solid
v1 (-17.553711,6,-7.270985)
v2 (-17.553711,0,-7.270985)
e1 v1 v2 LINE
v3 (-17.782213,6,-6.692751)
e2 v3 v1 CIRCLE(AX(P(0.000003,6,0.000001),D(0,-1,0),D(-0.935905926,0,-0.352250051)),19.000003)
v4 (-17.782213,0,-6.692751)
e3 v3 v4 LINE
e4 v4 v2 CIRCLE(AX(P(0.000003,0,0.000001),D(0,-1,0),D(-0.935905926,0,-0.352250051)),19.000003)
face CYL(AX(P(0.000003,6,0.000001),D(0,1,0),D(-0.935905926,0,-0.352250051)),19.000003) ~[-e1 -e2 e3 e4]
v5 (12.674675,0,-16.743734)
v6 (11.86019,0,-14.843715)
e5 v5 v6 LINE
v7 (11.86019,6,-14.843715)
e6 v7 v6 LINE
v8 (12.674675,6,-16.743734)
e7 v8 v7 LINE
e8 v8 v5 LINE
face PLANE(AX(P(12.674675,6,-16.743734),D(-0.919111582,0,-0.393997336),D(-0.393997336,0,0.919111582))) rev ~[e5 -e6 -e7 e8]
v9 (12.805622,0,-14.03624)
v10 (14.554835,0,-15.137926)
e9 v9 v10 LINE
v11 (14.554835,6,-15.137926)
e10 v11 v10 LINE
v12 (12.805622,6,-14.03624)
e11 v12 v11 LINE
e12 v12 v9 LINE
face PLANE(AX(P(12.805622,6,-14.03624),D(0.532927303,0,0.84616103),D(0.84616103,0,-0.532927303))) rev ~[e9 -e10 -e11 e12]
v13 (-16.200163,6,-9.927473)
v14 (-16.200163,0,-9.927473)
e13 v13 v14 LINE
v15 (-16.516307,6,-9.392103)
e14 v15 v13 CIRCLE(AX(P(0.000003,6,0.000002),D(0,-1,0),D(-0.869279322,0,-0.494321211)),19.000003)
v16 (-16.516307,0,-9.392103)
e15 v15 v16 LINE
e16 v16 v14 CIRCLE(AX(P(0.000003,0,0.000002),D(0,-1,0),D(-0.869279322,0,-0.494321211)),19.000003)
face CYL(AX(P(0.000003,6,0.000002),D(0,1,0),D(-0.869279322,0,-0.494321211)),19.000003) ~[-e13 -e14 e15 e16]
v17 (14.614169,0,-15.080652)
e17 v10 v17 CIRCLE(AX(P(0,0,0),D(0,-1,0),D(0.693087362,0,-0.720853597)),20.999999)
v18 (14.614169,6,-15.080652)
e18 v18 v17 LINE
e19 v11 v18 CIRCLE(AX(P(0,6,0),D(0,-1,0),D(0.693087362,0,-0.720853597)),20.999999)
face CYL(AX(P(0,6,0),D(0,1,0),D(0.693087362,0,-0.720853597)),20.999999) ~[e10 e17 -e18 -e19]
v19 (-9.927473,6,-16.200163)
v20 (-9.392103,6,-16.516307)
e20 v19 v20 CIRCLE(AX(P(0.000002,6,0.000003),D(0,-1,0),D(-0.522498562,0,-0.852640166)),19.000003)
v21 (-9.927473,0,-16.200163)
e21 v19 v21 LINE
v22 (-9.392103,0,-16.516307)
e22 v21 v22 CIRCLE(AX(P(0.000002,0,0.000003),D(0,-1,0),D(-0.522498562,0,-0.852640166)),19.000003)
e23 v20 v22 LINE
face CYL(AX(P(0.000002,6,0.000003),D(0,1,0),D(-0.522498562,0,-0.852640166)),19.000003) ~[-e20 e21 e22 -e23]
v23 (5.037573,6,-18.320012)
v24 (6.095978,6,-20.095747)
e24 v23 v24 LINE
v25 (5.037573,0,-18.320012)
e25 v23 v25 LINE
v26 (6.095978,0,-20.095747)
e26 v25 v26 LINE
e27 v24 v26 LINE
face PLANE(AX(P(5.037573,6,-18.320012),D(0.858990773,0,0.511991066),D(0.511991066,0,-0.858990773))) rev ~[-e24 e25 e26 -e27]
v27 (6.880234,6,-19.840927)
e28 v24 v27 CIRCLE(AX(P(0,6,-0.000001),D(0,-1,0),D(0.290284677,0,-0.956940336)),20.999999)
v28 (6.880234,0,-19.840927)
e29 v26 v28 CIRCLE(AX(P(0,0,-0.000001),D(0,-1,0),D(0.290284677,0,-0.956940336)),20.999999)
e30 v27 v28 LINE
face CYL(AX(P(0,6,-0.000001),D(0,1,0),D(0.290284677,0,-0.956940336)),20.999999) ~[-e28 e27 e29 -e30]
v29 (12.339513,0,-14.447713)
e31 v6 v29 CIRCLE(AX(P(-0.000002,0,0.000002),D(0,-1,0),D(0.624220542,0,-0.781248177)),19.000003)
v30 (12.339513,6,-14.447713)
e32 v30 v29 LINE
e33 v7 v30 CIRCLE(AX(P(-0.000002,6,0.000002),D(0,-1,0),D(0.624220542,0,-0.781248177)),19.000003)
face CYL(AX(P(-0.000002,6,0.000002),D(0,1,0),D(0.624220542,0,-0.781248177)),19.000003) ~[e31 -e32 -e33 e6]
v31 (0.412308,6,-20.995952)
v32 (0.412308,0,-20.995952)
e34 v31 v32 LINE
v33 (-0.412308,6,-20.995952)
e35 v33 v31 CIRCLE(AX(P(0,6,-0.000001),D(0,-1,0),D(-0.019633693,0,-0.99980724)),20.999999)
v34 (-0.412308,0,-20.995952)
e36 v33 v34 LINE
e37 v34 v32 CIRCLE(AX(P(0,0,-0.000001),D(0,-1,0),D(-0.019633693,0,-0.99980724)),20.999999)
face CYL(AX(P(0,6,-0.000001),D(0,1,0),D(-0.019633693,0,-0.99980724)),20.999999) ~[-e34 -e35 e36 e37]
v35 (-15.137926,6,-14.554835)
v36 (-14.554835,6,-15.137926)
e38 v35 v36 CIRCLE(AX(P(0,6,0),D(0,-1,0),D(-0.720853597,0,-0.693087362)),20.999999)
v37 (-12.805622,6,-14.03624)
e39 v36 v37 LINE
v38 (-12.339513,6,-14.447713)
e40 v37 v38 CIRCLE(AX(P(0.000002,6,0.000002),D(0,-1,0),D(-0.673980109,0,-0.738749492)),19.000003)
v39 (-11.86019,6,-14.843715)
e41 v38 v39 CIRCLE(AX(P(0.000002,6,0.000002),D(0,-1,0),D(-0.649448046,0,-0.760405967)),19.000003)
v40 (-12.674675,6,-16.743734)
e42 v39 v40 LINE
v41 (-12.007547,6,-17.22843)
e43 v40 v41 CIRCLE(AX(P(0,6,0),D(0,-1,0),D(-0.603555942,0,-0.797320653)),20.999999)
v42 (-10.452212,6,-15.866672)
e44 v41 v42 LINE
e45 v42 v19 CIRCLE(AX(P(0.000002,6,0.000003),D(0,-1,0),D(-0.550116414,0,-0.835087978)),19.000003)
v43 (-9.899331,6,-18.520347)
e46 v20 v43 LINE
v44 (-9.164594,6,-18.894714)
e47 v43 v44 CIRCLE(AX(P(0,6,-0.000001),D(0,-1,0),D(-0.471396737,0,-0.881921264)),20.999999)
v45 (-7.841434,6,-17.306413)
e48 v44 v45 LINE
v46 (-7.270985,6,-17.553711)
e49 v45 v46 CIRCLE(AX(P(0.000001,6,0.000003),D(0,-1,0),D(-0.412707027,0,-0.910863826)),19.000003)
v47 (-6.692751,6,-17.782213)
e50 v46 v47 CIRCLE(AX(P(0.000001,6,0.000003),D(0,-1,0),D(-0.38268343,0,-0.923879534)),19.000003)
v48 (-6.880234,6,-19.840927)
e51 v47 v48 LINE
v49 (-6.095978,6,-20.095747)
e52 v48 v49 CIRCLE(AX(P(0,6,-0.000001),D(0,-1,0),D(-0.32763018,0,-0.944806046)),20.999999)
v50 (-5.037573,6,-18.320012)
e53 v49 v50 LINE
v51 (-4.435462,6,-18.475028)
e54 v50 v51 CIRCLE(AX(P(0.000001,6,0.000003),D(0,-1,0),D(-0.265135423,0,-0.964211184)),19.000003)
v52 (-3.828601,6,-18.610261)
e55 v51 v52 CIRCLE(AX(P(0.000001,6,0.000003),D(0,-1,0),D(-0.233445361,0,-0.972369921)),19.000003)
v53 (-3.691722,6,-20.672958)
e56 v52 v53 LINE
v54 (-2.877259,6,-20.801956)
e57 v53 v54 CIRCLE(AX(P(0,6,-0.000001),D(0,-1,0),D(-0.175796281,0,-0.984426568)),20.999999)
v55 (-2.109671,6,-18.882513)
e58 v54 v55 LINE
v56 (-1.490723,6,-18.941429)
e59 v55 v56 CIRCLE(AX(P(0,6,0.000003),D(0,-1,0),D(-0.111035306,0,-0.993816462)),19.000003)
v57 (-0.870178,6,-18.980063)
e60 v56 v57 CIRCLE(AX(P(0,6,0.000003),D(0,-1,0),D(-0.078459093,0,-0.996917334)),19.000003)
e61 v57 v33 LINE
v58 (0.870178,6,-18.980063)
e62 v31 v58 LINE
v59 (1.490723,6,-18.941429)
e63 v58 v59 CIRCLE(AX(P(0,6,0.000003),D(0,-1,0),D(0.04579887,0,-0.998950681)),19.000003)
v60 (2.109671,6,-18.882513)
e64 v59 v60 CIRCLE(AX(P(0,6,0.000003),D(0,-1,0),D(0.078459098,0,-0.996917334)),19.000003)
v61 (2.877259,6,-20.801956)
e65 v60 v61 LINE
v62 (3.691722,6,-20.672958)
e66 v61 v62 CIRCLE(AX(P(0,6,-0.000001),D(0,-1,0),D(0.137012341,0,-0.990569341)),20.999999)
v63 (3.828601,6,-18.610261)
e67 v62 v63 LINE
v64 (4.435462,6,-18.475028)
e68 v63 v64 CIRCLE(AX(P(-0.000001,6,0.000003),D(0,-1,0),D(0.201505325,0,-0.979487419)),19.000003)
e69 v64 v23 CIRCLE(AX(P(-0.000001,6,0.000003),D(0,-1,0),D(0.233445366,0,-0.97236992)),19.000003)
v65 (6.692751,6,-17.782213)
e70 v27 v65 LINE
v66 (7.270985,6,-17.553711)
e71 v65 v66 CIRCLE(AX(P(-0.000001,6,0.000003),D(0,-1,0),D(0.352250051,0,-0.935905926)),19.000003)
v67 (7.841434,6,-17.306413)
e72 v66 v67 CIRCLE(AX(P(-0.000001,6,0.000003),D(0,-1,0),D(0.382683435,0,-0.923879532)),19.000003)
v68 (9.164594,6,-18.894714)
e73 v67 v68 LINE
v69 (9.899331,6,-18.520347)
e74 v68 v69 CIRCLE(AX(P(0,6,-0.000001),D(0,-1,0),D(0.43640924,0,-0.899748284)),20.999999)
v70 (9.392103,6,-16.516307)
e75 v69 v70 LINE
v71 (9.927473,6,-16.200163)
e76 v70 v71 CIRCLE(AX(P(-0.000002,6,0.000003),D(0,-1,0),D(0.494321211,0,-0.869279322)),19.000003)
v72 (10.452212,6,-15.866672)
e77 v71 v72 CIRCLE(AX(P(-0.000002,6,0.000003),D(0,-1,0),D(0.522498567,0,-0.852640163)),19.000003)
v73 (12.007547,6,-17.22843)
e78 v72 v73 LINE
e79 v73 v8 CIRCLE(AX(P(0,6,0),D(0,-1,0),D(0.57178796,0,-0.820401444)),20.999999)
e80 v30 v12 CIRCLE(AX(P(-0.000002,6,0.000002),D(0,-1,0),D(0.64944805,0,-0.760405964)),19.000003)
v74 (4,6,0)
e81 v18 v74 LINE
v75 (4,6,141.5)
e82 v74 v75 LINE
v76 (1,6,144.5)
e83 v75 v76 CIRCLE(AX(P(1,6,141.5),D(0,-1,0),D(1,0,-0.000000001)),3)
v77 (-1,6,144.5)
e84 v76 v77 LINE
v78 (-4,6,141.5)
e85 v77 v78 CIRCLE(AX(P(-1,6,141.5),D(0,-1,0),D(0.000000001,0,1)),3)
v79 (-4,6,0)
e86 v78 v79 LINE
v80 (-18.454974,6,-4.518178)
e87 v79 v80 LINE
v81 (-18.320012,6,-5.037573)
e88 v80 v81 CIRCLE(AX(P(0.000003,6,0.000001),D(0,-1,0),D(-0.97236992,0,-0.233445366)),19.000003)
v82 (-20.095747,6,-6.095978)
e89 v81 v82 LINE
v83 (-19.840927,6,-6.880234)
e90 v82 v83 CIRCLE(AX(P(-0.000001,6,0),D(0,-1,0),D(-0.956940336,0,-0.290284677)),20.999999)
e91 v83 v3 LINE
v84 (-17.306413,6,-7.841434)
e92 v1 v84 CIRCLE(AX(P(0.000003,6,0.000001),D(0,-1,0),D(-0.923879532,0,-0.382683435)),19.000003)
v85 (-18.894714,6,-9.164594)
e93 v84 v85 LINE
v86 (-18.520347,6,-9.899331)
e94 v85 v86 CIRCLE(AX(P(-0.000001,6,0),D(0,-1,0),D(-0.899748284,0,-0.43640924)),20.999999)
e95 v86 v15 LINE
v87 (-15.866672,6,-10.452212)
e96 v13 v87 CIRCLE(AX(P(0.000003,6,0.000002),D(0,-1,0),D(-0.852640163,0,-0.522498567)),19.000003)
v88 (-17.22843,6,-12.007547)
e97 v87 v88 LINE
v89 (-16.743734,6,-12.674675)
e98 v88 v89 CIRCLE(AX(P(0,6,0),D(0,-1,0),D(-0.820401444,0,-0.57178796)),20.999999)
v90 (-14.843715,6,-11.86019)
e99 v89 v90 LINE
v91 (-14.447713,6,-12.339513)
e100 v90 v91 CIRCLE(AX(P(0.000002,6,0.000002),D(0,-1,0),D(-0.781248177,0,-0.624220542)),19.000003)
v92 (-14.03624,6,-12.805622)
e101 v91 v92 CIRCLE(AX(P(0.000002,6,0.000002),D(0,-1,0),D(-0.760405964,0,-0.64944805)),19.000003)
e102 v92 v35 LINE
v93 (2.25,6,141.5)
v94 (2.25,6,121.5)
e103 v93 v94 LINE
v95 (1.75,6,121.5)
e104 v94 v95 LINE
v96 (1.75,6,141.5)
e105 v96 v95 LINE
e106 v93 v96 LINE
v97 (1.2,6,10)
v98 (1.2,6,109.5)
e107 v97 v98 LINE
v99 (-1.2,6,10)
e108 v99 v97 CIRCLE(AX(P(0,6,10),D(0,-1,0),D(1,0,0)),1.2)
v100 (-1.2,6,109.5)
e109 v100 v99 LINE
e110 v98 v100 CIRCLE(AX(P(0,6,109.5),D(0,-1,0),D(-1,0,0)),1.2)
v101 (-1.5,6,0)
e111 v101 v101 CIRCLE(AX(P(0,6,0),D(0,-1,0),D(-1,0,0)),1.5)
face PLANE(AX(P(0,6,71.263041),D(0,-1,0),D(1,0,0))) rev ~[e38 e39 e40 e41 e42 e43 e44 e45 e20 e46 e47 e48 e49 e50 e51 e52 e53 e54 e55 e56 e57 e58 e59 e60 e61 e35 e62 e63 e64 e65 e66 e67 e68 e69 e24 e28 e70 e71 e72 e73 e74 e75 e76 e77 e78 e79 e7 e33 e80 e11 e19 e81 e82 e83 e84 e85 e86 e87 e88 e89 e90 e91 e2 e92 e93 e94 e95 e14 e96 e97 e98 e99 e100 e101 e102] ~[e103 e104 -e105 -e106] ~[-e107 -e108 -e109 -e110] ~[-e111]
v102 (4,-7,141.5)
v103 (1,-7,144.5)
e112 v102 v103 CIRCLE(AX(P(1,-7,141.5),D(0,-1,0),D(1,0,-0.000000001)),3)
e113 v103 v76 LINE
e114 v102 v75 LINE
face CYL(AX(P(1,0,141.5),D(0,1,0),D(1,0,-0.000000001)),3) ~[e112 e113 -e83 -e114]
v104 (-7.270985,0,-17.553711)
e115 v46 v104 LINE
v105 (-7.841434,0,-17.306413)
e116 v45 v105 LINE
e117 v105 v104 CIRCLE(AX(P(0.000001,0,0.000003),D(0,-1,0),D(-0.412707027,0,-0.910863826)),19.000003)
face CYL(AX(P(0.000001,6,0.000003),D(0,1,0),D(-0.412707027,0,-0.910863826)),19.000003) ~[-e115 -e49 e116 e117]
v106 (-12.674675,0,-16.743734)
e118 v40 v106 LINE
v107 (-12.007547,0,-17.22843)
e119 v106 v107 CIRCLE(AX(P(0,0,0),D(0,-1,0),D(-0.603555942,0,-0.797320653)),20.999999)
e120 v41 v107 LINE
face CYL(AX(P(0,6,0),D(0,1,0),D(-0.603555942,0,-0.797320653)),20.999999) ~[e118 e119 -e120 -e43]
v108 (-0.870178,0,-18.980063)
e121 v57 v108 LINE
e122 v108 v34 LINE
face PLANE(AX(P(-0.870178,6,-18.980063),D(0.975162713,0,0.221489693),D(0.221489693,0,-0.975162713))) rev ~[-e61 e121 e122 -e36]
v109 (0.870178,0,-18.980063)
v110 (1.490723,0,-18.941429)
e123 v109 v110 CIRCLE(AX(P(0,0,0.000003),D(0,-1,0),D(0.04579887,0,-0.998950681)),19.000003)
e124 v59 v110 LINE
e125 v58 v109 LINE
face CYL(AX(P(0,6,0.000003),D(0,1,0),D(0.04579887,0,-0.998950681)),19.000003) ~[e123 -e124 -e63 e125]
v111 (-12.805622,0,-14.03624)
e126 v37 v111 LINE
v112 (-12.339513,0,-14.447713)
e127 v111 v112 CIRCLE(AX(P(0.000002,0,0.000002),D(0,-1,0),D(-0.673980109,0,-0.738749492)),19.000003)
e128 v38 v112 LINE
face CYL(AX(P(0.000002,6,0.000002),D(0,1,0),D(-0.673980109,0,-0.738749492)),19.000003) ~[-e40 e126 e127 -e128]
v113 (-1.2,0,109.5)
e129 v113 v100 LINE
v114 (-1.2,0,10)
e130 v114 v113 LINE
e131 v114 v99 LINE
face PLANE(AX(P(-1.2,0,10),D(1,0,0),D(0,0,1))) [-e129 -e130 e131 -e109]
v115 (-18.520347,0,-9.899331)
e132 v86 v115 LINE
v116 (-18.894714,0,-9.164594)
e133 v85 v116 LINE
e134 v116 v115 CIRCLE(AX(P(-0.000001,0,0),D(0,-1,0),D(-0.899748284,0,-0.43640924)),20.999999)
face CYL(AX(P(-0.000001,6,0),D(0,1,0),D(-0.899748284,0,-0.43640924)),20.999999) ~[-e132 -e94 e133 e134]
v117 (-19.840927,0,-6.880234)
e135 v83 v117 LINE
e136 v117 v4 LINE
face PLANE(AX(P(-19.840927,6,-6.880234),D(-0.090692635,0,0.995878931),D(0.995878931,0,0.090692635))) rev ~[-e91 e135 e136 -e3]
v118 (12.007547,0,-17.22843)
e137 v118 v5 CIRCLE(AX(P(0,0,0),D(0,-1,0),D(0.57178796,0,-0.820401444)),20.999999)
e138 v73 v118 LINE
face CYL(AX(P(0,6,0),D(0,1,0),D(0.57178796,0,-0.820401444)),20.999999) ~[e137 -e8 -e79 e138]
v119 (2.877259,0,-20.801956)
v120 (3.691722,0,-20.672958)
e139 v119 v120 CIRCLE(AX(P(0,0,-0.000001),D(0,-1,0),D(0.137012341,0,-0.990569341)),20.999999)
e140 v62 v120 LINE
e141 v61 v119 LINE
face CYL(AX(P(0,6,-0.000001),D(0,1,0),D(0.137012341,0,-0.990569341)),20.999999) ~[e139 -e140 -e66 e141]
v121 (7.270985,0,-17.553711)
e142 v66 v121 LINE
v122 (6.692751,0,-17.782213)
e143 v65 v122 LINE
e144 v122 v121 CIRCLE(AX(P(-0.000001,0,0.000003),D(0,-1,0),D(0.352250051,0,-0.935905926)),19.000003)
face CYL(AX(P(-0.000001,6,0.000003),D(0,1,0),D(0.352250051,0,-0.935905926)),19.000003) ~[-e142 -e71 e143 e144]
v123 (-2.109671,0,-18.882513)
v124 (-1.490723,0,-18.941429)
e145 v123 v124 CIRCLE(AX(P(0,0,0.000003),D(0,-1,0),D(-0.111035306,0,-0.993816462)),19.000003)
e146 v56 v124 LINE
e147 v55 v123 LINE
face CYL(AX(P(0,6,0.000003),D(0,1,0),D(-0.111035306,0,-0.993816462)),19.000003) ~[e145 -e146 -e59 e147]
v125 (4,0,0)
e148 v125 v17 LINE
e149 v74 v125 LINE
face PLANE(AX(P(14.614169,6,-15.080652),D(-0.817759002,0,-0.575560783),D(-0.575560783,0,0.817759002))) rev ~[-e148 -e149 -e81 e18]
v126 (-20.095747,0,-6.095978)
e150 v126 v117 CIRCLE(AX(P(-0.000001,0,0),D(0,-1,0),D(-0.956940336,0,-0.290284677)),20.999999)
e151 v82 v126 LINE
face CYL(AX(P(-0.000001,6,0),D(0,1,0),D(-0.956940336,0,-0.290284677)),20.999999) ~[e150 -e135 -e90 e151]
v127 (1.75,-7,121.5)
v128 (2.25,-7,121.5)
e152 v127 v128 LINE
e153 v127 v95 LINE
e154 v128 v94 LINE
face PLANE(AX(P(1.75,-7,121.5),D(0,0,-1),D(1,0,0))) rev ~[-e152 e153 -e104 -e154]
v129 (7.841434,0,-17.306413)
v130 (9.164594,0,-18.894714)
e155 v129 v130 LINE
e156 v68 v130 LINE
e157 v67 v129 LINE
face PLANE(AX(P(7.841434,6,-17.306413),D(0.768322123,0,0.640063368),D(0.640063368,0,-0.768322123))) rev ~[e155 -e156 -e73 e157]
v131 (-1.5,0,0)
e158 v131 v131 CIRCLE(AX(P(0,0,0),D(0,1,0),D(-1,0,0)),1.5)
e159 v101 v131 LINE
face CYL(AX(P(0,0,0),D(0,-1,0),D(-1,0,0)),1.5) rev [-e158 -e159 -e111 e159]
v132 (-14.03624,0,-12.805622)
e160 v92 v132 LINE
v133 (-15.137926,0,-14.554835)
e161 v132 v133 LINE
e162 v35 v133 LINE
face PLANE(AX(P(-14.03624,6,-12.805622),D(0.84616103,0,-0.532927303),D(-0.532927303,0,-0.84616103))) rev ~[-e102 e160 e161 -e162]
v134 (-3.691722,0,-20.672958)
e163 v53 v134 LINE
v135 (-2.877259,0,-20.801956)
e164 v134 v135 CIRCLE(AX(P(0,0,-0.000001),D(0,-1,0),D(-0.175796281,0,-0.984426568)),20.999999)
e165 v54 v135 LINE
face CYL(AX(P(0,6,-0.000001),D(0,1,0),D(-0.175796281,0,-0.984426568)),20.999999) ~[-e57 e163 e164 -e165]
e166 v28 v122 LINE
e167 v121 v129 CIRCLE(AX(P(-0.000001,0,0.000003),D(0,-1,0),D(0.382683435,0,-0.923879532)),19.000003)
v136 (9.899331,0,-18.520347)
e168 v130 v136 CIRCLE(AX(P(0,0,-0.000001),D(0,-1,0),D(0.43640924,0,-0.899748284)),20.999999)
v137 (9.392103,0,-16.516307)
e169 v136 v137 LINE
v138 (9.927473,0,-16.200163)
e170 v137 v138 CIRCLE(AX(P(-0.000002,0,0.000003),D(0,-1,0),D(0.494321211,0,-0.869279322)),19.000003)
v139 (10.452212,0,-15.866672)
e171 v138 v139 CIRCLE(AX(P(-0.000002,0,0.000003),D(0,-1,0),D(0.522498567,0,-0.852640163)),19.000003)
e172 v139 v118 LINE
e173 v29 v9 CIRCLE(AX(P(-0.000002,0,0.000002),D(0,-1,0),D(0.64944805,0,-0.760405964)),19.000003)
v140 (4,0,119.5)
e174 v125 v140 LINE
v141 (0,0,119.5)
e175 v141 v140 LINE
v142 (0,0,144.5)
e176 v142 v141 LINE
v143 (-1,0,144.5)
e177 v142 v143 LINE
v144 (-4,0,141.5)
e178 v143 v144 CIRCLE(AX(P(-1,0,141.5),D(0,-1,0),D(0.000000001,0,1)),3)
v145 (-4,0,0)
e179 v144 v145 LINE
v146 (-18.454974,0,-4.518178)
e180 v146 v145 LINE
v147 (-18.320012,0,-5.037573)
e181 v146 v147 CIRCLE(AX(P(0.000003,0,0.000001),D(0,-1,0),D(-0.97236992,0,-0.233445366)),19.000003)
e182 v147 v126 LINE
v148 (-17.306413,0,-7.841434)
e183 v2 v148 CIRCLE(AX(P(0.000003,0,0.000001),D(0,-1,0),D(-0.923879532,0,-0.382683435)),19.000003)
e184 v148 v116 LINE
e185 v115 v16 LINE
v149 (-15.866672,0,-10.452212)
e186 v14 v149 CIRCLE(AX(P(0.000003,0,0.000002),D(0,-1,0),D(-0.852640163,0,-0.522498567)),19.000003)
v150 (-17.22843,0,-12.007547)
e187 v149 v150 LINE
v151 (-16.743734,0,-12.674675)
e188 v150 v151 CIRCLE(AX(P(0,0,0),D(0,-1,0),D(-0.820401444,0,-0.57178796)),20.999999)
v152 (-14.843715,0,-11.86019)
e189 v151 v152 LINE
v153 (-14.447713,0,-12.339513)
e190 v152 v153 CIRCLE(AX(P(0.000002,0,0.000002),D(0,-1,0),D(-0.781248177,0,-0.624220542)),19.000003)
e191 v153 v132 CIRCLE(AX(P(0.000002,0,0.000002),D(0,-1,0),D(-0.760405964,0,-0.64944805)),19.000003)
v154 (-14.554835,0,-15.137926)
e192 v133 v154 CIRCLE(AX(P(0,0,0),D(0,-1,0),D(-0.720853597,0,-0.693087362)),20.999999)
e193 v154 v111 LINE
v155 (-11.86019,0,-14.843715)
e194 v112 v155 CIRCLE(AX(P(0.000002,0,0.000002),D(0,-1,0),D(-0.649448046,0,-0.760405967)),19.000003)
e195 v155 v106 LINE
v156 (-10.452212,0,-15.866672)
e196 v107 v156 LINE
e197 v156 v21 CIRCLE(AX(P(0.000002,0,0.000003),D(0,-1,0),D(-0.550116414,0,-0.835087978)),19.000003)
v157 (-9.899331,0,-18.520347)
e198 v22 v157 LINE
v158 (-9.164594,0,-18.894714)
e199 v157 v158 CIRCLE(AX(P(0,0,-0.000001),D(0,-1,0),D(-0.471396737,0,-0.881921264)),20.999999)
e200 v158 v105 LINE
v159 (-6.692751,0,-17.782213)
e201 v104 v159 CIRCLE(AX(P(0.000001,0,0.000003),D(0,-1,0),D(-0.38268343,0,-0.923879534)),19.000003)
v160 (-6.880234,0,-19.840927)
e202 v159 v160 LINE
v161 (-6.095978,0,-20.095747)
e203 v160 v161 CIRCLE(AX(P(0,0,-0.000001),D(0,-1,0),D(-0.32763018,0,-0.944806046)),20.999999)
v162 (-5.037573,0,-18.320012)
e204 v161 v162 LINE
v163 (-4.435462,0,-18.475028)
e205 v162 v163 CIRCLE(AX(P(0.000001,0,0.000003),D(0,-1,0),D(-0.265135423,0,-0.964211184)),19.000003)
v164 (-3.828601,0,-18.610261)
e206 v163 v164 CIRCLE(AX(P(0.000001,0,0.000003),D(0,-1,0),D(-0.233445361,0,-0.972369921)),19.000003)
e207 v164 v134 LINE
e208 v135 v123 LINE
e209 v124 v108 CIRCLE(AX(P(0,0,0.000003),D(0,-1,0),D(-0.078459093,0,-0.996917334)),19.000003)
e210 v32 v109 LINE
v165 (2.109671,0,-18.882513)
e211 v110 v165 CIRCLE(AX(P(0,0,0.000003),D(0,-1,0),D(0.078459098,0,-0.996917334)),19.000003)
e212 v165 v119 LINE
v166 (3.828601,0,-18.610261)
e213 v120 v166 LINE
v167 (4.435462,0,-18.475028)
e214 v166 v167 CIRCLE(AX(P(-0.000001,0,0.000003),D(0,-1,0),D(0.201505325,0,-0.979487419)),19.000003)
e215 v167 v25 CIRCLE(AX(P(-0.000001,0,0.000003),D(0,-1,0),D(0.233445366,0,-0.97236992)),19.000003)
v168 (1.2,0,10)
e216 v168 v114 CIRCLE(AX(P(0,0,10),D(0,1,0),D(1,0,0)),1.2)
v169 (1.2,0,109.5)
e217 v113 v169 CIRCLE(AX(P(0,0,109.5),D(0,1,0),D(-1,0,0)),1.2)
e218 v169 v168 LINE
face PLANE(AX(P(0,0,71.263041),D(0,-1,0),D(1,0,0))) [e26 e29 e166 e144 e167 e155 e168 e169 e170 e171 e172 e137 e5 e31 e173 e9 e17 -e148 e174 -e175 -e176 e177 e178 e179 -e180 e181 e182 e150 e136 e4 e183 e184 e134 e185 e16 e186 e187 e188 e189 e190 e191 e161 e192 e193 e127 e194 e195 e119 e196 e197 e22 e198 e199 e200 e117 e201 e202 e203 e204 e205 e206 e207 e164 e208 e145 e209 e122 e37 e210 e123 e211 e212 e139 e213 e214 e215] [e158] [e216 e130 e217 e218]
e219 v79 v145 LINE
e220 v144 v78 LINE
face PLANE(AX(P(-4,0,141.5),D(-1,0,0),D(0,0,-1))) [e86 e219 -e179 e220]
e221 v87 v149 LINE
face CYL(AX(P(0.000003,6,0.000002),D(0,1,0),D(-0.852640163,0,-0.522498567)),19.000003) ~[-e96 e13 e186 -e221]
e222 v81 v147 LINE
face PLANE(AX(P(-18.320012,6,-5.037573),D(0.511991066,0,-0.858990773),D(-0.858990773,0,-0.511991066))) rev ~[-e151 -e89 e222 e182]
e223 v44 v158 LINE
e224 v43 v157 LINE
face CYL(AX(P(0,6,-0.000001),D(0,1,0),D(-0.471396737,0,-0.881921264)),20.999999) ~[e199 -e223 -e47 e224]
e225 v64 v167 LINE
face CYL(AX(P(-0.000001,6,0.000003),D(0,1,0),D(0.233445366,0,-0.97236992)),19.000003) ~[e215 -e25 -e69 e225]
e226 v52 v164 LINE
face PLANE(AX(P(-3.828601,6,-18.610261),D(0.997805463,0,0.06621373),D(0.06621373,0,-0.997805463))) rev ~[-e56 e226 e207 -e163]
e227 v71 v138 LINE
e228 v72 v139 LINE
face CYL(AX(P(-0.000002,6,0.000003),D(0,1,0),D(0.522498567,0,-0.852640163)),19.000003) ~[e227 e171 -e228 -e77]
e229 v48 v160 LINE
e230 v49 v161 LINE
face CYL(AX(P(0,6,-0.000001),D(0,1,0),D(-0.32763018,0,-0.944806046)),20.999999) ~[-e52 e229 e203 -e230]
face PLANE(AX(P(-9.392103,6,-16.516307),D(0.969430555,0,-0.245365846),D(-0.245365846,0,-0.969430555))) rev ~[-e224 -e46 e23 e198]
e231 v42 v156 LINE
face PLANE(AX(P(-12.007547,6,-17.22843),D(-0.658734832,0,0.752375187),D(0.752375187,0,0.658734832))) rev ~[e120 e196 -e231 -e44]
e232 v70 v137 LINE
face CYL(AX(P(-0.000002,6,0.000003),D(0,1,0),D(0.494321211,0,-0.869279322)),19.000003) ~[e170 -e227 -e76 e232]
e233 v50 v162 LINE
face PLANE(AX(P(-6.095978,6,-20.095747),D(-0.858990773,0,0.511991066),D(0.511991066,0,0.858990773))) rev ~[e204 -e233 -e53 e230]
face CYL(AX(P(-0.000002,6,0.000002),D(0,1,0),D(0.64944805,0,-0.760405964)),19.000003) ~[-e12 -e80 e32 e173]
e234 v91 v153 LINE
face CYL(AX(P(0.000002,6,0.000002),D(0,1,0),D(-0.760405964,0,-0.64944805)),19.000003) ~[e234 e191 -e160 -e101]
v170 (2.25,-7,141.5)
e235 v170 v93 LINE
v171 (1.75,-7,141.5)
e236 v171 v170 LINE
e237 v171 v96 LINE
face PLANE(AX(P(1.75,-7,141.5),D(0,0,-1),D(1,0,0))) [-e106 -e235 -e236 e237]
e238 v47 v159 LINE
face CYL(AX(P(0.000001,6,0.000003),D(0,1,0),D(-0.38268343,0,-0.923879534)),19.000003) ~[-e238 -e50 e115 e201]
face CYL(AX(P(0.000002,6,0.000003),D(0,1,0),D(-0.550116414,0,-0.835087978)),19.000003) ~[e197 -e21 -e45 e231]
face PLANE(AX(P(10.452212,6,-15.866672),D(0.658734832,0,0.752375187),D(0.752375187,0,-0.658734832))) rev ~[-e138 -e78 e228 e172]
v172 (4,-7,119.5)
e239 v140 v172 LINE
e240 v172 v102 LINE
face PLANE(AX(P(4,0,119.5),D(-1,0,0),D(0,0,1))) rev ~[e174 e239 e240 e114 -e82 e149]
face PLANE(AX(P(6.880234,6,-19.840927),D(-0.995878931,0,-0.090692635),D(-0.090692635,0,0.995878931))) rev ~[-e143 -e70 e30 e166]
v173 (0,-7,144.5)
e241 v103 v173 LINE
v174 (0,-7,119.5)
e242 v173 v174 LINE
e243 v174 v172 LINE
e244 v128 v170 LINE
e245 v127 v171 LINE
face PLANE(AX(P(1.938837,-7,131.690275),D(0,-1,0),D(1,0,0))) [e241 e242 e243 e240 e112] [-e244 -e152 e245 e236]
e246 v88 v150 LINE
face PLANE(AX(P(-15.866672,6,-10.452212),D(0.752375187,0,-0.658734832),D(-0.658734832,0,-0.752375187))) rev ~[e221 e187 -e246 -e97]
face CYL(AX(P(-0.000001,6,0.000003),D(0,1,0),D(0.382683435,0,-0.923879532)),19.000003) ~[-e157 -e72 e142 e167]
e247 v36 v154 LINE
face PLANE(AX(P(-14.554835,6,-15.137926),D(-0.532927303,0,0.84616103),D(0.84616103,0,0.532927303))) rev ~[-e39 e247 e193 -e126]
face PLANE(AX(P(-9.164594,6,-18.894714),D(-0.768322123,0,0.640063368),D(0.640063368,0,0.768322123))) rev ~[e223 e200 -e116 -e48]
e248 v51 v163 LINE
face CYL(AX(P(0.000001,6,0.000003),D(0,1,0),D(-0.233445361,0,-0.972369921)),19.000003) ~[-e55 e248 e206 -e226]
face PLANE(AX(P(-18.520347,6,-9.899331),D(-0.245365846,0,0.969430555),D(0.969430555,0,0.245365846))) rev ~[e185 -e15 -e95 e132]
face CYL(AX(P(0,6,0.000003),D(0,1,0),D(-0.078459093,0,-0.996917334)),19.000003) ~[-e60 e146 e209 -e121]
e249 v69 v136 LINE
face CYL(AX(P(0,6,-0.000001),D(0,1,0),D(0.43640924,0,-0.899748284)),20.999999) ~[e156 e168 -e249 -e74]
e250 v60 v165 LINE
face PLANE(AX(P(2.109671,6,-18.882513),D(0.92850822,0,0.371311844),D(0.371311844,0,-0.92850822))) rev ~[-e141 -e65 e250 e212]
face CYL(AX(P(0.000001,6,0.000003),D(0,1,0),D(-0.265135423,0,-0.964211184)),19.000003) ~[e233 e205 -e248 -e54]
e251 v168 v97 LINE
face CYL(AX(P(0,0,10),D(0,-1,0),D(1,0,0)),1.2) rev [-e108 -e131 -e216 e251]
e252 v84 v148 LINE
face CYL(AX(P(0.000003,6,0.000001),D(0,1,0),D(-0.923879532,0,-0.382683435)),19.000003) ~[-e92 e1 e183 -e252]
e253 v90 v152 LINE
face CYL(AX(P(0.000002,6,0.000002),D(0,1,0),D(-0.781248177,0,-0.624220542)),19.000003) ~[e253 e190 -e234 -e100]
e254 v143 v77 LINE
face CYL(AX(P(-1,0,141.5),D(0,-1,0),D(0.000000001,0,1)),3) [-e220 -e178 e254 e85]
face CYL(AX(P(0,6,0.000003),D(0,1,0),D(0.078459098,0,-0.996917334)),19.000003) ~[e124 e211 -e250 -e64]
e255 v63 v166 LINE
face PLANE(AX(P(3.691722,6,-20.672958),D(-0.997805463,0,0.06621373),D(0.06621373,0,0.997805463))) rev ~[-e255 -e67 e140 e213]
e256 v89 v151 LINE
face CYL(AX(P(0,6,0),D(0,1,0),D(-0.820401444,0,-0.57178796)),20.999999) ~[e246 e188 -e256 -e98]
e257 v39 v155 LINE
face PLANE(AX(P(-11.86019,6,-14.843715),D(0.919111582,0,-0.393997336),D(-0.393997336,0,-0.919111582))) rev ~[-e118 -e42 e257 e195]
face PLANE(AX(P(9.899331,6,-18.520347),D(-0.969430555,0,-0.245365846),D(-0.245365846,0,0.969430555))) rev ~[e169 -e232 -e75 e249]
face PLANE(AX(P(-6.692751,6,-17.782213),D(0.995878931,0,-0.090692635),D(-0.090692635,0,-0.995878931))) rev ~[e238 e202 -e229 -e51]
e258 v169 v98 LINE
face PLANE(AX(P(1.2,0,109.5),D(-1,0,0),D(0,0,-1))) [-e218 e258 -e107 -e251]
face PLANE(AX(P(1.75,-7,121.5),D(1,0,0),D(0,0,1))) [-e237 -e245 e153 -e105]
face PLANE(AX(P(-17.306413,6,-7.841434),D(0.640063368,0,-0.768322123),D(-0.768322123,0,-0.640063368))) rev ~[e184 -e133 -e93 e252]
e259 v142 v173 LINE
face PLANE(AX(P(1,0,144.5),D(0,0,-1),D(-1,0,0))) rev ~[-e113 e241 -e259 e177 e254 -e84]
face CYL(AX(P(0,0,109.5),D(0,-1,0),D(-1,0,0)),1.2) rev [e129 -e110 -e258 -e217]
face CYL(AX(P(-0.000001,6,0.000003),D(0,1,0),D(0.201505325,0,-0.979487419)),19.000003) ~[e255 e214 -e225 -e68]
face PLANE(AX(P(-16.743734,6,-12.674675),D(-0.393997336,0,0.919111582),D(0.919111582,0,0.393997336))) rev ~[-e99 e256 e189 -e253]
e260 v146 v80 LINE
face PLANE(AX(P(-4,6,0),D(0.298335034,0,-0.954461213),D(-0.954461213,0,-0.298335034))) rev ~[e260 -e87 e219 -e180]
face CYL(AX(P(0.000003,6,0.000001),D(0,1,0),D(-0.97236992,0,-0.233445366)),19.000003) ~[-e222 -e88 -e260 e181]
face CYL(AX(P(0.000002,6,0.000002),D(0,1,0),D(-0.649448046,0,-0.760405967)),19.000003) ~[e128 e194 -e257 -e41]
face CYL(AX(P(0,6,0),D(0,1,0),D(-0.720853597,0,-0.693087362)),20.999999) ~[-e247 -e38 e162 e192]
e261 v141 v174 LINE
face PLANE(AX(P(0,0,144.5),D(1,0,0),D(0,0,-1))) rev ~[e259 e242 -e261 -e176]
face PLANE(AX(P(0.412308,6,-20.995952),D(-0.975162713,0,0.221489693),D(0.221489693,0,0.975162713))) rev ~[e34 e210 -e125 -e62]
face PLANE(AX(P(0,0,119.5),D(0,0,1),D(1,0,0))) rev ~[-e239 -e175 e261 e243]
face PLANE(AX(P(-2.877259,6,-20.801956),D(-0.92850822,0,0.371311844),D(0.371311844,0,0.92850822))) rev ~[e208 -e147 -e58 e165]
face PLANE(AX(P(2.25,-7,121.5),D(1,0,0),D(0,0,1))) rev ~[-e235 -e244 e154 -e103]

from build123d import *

# Parameters (mm, degrees)
SKETCH1_R           = 21
SKETCH1_R_2         = 1.5
BOSS_EXTRUDE1_DEPTH = 6
CUT_EXTRUDE1_DEPTH  = 6
CIRPATTERN1_COUNT   = 40
CUT_EXTRUDE2_REACH  = 8
BOSS_EXTRUDE2_DEPTH = 6
BOSS_EXTRUDE3_DEPTH = 7
CUT_EXTRUDE4_REACH  = 15
SKETCH7_W           = 0.5
SKETCH7_H           = 20
CUT_EXTRUDE5_REACH  = 8


with BuildPart() as part:
    # Sketch1 → Boss-Extrude1 (new body)
    with BuildSketch(Plane(origin=(0, 0, 0), x_dir=(1, 0, 0), z_dir=(0, 1, 0))):
        Circle(SKETCH1_R)
        Circle(SKETCH1_R_2, mode=Mode.SUBTRACT)
    extrude(amount=BOSS_EXTRUDE1_DEPTH)

    # Sketch2 → Cut-Extrude1 (cut)
    with BuildSketch(Plane(origin=(0, 6, 0), x_dir=(1, 0, 0), z_dir=(0, 1, 0))):
        with BuildLine():
            Line((-0.870178472, 18.980062946), (-0.412307542, 20.99595205))
            ThreePointArc((-0.412307542, 20.99595205), (0, 21), (0.412307542, 20.99595205))
            Line((0.412307542, 20.99595205), (0.870178472, 18.980062946))
            ThreePointArc((0.870178472, 18.980062946), (1.180608684, 18.963284608), (1.490722819, 18.941429341))
            Line((1.490722819, 18.941429341), (1.73143755, 22))
            Line((1.73143755, 22), (-1.73143755, 22))
            Line((-1.73143755, 22), (-1.490722819, 18.941429341))
            ThreePointArc((-1.490722819, 18.941429341), (-1.180608684, 18.963284608), (-0.870178472, 18.980062946))
        make_face()
    cut_extrude1 = extrude(amount=-CUT_EXTRUDE1_DEPTH, mode=Mode.SUBTRACT)

    # CirPattern1: Cut-Extrude1 ×40 about axis
    cirpattern1_axis = Axis((0, 0, 0), (0, 1, 0))
    for i in range(1, CIRPATTERN1_COUNT):
        add(cut_extrude1.rotate(cirpattern1_axis, i * 360 / CIRPATTERN1_COUNT), mode=Mode.SUBTRACT)

    # Sketch3 → Cut-Extrude2 (cut, up to next)
    with BuildSketch(Plane(origin=(0, 6, 0), x_dir=(1, 0, 0), z_dir=(0, 1, 0)), mode=Mode.PRIVATE) as cut_extrude2_sk1:
        with BuildLine():
            Line((-4, 0), (-20.367312321, 5.115915248))
            ThreePointArc((-20.367312321, 5.115915248), (5.753143593, -20.196567501), (14.614168728, 15.080652253))
            Line((14.614168728, 15.080652253), (4, 0))
            Line((4, 0), (-4, 0))
        make_face()
    cut_extrude2_tool1 = extrude(cut_extrude2_sk1.sketch, amount=-CUT_EXTRUDE2_REACH, mode=Mode.PRIVATE) & part.part
    add(cut_extrude2_tool1.solids().sort_by_distance((1.540678, 6, 6.01351))[0], mode=Mode.SUBTRACT)

    # Sketch4 → Boss-Extrude2 (add)
    with BuildSketch(Plane.XZ):
        with BuildLine():
            Line((1.5, 0), (4, 0))
            Line((4, 0), (4, 141.5))
            ThreePointArc((4, 141.5), (3.121320344, 143.621320344), (1, 144.5))
            Line((1, 144.5), (-1, 144.5))
            ThreePointArc((-1, 144.5), (-3.121320344, 143.621320344), (-4, 141.5))
            Line((-4, 141.5), (-4, 0))
            Line((-4, 0), (-1.5, 0))
            ThreePointArc((-1.5, 0), (0, 1.5), (1.5, 0))
        make_face()
    extrude(amount=-BOSS_EXTRUDE2_DEPTH)

    # Sketch5 → Boss-Extrude3 (add)
    with BuildSketch(Plane.XZ):
        with BuildLine():
            Line((0, 144.5), (0, 119.5))
            Line((0, 119.5), (4, 119.5))
            Line((4, 119.5), (4, 141.5))
            ThreePointArc((4, 141.5), (3.121320344, 143.621320344), (1, 144.5))
            Line((1, 144.5), (0, 144.5))
        make_face()
    extrude(amount=BOSS_EXTRUDE3_DEPTH)

    # Sketch7 → Cut-Extrude4 (cut, up to next)
    with BuildSketch(Plane.XZ.offset(7), mode=Mode.PRIVATE) as cut_extrude4_sk1:
        with Locations((2, 131.5)):
            Rectangle(SKETCH7_W, SKETCH7_H)
    cut_extrude4_tool1 = extrude(cut_extrude4_sk1.sketch, amount=-CUT_EXTRUDE4_REACH, mode=Mode.PRIVATE) & part.part
    add(cut_extrude4_tool1.solids().sort_by_distance((2, -7, 131.5))[0], mode=Mode.SUBTRACT)

    # Sketch8 → Cut-Extrude5 (cut, up to next)
    with BuildSketch(Plane.XZ, mode=Mode.PRIVATE) as cut_extrude5_sk1:
        with BuildLine():
            Line((-1.2, 10), (-1.2, 109.5))
            ThreePointArc((-1.2, 109.5), (0, 110.7), (1.2, 109.5))
            Line((1.2, 109.5), (1.2, 10))
            ThreePointArc((1.2, 10), (0, 8.8), (-1.2, 10))
        make_face()
    cut_extrude5_tool1 = extrude(cut_extrude5_sk1.sketch, amount=-CUT_EXTRUDE5_REACH, mode=Mode.PRIVATE) & part.part
    add(cut_extrude5_tool1.solids().sort_by_distance((0, 0, 59.75))[0], mode=Mode.SUBTRACT)


solid = part.part
